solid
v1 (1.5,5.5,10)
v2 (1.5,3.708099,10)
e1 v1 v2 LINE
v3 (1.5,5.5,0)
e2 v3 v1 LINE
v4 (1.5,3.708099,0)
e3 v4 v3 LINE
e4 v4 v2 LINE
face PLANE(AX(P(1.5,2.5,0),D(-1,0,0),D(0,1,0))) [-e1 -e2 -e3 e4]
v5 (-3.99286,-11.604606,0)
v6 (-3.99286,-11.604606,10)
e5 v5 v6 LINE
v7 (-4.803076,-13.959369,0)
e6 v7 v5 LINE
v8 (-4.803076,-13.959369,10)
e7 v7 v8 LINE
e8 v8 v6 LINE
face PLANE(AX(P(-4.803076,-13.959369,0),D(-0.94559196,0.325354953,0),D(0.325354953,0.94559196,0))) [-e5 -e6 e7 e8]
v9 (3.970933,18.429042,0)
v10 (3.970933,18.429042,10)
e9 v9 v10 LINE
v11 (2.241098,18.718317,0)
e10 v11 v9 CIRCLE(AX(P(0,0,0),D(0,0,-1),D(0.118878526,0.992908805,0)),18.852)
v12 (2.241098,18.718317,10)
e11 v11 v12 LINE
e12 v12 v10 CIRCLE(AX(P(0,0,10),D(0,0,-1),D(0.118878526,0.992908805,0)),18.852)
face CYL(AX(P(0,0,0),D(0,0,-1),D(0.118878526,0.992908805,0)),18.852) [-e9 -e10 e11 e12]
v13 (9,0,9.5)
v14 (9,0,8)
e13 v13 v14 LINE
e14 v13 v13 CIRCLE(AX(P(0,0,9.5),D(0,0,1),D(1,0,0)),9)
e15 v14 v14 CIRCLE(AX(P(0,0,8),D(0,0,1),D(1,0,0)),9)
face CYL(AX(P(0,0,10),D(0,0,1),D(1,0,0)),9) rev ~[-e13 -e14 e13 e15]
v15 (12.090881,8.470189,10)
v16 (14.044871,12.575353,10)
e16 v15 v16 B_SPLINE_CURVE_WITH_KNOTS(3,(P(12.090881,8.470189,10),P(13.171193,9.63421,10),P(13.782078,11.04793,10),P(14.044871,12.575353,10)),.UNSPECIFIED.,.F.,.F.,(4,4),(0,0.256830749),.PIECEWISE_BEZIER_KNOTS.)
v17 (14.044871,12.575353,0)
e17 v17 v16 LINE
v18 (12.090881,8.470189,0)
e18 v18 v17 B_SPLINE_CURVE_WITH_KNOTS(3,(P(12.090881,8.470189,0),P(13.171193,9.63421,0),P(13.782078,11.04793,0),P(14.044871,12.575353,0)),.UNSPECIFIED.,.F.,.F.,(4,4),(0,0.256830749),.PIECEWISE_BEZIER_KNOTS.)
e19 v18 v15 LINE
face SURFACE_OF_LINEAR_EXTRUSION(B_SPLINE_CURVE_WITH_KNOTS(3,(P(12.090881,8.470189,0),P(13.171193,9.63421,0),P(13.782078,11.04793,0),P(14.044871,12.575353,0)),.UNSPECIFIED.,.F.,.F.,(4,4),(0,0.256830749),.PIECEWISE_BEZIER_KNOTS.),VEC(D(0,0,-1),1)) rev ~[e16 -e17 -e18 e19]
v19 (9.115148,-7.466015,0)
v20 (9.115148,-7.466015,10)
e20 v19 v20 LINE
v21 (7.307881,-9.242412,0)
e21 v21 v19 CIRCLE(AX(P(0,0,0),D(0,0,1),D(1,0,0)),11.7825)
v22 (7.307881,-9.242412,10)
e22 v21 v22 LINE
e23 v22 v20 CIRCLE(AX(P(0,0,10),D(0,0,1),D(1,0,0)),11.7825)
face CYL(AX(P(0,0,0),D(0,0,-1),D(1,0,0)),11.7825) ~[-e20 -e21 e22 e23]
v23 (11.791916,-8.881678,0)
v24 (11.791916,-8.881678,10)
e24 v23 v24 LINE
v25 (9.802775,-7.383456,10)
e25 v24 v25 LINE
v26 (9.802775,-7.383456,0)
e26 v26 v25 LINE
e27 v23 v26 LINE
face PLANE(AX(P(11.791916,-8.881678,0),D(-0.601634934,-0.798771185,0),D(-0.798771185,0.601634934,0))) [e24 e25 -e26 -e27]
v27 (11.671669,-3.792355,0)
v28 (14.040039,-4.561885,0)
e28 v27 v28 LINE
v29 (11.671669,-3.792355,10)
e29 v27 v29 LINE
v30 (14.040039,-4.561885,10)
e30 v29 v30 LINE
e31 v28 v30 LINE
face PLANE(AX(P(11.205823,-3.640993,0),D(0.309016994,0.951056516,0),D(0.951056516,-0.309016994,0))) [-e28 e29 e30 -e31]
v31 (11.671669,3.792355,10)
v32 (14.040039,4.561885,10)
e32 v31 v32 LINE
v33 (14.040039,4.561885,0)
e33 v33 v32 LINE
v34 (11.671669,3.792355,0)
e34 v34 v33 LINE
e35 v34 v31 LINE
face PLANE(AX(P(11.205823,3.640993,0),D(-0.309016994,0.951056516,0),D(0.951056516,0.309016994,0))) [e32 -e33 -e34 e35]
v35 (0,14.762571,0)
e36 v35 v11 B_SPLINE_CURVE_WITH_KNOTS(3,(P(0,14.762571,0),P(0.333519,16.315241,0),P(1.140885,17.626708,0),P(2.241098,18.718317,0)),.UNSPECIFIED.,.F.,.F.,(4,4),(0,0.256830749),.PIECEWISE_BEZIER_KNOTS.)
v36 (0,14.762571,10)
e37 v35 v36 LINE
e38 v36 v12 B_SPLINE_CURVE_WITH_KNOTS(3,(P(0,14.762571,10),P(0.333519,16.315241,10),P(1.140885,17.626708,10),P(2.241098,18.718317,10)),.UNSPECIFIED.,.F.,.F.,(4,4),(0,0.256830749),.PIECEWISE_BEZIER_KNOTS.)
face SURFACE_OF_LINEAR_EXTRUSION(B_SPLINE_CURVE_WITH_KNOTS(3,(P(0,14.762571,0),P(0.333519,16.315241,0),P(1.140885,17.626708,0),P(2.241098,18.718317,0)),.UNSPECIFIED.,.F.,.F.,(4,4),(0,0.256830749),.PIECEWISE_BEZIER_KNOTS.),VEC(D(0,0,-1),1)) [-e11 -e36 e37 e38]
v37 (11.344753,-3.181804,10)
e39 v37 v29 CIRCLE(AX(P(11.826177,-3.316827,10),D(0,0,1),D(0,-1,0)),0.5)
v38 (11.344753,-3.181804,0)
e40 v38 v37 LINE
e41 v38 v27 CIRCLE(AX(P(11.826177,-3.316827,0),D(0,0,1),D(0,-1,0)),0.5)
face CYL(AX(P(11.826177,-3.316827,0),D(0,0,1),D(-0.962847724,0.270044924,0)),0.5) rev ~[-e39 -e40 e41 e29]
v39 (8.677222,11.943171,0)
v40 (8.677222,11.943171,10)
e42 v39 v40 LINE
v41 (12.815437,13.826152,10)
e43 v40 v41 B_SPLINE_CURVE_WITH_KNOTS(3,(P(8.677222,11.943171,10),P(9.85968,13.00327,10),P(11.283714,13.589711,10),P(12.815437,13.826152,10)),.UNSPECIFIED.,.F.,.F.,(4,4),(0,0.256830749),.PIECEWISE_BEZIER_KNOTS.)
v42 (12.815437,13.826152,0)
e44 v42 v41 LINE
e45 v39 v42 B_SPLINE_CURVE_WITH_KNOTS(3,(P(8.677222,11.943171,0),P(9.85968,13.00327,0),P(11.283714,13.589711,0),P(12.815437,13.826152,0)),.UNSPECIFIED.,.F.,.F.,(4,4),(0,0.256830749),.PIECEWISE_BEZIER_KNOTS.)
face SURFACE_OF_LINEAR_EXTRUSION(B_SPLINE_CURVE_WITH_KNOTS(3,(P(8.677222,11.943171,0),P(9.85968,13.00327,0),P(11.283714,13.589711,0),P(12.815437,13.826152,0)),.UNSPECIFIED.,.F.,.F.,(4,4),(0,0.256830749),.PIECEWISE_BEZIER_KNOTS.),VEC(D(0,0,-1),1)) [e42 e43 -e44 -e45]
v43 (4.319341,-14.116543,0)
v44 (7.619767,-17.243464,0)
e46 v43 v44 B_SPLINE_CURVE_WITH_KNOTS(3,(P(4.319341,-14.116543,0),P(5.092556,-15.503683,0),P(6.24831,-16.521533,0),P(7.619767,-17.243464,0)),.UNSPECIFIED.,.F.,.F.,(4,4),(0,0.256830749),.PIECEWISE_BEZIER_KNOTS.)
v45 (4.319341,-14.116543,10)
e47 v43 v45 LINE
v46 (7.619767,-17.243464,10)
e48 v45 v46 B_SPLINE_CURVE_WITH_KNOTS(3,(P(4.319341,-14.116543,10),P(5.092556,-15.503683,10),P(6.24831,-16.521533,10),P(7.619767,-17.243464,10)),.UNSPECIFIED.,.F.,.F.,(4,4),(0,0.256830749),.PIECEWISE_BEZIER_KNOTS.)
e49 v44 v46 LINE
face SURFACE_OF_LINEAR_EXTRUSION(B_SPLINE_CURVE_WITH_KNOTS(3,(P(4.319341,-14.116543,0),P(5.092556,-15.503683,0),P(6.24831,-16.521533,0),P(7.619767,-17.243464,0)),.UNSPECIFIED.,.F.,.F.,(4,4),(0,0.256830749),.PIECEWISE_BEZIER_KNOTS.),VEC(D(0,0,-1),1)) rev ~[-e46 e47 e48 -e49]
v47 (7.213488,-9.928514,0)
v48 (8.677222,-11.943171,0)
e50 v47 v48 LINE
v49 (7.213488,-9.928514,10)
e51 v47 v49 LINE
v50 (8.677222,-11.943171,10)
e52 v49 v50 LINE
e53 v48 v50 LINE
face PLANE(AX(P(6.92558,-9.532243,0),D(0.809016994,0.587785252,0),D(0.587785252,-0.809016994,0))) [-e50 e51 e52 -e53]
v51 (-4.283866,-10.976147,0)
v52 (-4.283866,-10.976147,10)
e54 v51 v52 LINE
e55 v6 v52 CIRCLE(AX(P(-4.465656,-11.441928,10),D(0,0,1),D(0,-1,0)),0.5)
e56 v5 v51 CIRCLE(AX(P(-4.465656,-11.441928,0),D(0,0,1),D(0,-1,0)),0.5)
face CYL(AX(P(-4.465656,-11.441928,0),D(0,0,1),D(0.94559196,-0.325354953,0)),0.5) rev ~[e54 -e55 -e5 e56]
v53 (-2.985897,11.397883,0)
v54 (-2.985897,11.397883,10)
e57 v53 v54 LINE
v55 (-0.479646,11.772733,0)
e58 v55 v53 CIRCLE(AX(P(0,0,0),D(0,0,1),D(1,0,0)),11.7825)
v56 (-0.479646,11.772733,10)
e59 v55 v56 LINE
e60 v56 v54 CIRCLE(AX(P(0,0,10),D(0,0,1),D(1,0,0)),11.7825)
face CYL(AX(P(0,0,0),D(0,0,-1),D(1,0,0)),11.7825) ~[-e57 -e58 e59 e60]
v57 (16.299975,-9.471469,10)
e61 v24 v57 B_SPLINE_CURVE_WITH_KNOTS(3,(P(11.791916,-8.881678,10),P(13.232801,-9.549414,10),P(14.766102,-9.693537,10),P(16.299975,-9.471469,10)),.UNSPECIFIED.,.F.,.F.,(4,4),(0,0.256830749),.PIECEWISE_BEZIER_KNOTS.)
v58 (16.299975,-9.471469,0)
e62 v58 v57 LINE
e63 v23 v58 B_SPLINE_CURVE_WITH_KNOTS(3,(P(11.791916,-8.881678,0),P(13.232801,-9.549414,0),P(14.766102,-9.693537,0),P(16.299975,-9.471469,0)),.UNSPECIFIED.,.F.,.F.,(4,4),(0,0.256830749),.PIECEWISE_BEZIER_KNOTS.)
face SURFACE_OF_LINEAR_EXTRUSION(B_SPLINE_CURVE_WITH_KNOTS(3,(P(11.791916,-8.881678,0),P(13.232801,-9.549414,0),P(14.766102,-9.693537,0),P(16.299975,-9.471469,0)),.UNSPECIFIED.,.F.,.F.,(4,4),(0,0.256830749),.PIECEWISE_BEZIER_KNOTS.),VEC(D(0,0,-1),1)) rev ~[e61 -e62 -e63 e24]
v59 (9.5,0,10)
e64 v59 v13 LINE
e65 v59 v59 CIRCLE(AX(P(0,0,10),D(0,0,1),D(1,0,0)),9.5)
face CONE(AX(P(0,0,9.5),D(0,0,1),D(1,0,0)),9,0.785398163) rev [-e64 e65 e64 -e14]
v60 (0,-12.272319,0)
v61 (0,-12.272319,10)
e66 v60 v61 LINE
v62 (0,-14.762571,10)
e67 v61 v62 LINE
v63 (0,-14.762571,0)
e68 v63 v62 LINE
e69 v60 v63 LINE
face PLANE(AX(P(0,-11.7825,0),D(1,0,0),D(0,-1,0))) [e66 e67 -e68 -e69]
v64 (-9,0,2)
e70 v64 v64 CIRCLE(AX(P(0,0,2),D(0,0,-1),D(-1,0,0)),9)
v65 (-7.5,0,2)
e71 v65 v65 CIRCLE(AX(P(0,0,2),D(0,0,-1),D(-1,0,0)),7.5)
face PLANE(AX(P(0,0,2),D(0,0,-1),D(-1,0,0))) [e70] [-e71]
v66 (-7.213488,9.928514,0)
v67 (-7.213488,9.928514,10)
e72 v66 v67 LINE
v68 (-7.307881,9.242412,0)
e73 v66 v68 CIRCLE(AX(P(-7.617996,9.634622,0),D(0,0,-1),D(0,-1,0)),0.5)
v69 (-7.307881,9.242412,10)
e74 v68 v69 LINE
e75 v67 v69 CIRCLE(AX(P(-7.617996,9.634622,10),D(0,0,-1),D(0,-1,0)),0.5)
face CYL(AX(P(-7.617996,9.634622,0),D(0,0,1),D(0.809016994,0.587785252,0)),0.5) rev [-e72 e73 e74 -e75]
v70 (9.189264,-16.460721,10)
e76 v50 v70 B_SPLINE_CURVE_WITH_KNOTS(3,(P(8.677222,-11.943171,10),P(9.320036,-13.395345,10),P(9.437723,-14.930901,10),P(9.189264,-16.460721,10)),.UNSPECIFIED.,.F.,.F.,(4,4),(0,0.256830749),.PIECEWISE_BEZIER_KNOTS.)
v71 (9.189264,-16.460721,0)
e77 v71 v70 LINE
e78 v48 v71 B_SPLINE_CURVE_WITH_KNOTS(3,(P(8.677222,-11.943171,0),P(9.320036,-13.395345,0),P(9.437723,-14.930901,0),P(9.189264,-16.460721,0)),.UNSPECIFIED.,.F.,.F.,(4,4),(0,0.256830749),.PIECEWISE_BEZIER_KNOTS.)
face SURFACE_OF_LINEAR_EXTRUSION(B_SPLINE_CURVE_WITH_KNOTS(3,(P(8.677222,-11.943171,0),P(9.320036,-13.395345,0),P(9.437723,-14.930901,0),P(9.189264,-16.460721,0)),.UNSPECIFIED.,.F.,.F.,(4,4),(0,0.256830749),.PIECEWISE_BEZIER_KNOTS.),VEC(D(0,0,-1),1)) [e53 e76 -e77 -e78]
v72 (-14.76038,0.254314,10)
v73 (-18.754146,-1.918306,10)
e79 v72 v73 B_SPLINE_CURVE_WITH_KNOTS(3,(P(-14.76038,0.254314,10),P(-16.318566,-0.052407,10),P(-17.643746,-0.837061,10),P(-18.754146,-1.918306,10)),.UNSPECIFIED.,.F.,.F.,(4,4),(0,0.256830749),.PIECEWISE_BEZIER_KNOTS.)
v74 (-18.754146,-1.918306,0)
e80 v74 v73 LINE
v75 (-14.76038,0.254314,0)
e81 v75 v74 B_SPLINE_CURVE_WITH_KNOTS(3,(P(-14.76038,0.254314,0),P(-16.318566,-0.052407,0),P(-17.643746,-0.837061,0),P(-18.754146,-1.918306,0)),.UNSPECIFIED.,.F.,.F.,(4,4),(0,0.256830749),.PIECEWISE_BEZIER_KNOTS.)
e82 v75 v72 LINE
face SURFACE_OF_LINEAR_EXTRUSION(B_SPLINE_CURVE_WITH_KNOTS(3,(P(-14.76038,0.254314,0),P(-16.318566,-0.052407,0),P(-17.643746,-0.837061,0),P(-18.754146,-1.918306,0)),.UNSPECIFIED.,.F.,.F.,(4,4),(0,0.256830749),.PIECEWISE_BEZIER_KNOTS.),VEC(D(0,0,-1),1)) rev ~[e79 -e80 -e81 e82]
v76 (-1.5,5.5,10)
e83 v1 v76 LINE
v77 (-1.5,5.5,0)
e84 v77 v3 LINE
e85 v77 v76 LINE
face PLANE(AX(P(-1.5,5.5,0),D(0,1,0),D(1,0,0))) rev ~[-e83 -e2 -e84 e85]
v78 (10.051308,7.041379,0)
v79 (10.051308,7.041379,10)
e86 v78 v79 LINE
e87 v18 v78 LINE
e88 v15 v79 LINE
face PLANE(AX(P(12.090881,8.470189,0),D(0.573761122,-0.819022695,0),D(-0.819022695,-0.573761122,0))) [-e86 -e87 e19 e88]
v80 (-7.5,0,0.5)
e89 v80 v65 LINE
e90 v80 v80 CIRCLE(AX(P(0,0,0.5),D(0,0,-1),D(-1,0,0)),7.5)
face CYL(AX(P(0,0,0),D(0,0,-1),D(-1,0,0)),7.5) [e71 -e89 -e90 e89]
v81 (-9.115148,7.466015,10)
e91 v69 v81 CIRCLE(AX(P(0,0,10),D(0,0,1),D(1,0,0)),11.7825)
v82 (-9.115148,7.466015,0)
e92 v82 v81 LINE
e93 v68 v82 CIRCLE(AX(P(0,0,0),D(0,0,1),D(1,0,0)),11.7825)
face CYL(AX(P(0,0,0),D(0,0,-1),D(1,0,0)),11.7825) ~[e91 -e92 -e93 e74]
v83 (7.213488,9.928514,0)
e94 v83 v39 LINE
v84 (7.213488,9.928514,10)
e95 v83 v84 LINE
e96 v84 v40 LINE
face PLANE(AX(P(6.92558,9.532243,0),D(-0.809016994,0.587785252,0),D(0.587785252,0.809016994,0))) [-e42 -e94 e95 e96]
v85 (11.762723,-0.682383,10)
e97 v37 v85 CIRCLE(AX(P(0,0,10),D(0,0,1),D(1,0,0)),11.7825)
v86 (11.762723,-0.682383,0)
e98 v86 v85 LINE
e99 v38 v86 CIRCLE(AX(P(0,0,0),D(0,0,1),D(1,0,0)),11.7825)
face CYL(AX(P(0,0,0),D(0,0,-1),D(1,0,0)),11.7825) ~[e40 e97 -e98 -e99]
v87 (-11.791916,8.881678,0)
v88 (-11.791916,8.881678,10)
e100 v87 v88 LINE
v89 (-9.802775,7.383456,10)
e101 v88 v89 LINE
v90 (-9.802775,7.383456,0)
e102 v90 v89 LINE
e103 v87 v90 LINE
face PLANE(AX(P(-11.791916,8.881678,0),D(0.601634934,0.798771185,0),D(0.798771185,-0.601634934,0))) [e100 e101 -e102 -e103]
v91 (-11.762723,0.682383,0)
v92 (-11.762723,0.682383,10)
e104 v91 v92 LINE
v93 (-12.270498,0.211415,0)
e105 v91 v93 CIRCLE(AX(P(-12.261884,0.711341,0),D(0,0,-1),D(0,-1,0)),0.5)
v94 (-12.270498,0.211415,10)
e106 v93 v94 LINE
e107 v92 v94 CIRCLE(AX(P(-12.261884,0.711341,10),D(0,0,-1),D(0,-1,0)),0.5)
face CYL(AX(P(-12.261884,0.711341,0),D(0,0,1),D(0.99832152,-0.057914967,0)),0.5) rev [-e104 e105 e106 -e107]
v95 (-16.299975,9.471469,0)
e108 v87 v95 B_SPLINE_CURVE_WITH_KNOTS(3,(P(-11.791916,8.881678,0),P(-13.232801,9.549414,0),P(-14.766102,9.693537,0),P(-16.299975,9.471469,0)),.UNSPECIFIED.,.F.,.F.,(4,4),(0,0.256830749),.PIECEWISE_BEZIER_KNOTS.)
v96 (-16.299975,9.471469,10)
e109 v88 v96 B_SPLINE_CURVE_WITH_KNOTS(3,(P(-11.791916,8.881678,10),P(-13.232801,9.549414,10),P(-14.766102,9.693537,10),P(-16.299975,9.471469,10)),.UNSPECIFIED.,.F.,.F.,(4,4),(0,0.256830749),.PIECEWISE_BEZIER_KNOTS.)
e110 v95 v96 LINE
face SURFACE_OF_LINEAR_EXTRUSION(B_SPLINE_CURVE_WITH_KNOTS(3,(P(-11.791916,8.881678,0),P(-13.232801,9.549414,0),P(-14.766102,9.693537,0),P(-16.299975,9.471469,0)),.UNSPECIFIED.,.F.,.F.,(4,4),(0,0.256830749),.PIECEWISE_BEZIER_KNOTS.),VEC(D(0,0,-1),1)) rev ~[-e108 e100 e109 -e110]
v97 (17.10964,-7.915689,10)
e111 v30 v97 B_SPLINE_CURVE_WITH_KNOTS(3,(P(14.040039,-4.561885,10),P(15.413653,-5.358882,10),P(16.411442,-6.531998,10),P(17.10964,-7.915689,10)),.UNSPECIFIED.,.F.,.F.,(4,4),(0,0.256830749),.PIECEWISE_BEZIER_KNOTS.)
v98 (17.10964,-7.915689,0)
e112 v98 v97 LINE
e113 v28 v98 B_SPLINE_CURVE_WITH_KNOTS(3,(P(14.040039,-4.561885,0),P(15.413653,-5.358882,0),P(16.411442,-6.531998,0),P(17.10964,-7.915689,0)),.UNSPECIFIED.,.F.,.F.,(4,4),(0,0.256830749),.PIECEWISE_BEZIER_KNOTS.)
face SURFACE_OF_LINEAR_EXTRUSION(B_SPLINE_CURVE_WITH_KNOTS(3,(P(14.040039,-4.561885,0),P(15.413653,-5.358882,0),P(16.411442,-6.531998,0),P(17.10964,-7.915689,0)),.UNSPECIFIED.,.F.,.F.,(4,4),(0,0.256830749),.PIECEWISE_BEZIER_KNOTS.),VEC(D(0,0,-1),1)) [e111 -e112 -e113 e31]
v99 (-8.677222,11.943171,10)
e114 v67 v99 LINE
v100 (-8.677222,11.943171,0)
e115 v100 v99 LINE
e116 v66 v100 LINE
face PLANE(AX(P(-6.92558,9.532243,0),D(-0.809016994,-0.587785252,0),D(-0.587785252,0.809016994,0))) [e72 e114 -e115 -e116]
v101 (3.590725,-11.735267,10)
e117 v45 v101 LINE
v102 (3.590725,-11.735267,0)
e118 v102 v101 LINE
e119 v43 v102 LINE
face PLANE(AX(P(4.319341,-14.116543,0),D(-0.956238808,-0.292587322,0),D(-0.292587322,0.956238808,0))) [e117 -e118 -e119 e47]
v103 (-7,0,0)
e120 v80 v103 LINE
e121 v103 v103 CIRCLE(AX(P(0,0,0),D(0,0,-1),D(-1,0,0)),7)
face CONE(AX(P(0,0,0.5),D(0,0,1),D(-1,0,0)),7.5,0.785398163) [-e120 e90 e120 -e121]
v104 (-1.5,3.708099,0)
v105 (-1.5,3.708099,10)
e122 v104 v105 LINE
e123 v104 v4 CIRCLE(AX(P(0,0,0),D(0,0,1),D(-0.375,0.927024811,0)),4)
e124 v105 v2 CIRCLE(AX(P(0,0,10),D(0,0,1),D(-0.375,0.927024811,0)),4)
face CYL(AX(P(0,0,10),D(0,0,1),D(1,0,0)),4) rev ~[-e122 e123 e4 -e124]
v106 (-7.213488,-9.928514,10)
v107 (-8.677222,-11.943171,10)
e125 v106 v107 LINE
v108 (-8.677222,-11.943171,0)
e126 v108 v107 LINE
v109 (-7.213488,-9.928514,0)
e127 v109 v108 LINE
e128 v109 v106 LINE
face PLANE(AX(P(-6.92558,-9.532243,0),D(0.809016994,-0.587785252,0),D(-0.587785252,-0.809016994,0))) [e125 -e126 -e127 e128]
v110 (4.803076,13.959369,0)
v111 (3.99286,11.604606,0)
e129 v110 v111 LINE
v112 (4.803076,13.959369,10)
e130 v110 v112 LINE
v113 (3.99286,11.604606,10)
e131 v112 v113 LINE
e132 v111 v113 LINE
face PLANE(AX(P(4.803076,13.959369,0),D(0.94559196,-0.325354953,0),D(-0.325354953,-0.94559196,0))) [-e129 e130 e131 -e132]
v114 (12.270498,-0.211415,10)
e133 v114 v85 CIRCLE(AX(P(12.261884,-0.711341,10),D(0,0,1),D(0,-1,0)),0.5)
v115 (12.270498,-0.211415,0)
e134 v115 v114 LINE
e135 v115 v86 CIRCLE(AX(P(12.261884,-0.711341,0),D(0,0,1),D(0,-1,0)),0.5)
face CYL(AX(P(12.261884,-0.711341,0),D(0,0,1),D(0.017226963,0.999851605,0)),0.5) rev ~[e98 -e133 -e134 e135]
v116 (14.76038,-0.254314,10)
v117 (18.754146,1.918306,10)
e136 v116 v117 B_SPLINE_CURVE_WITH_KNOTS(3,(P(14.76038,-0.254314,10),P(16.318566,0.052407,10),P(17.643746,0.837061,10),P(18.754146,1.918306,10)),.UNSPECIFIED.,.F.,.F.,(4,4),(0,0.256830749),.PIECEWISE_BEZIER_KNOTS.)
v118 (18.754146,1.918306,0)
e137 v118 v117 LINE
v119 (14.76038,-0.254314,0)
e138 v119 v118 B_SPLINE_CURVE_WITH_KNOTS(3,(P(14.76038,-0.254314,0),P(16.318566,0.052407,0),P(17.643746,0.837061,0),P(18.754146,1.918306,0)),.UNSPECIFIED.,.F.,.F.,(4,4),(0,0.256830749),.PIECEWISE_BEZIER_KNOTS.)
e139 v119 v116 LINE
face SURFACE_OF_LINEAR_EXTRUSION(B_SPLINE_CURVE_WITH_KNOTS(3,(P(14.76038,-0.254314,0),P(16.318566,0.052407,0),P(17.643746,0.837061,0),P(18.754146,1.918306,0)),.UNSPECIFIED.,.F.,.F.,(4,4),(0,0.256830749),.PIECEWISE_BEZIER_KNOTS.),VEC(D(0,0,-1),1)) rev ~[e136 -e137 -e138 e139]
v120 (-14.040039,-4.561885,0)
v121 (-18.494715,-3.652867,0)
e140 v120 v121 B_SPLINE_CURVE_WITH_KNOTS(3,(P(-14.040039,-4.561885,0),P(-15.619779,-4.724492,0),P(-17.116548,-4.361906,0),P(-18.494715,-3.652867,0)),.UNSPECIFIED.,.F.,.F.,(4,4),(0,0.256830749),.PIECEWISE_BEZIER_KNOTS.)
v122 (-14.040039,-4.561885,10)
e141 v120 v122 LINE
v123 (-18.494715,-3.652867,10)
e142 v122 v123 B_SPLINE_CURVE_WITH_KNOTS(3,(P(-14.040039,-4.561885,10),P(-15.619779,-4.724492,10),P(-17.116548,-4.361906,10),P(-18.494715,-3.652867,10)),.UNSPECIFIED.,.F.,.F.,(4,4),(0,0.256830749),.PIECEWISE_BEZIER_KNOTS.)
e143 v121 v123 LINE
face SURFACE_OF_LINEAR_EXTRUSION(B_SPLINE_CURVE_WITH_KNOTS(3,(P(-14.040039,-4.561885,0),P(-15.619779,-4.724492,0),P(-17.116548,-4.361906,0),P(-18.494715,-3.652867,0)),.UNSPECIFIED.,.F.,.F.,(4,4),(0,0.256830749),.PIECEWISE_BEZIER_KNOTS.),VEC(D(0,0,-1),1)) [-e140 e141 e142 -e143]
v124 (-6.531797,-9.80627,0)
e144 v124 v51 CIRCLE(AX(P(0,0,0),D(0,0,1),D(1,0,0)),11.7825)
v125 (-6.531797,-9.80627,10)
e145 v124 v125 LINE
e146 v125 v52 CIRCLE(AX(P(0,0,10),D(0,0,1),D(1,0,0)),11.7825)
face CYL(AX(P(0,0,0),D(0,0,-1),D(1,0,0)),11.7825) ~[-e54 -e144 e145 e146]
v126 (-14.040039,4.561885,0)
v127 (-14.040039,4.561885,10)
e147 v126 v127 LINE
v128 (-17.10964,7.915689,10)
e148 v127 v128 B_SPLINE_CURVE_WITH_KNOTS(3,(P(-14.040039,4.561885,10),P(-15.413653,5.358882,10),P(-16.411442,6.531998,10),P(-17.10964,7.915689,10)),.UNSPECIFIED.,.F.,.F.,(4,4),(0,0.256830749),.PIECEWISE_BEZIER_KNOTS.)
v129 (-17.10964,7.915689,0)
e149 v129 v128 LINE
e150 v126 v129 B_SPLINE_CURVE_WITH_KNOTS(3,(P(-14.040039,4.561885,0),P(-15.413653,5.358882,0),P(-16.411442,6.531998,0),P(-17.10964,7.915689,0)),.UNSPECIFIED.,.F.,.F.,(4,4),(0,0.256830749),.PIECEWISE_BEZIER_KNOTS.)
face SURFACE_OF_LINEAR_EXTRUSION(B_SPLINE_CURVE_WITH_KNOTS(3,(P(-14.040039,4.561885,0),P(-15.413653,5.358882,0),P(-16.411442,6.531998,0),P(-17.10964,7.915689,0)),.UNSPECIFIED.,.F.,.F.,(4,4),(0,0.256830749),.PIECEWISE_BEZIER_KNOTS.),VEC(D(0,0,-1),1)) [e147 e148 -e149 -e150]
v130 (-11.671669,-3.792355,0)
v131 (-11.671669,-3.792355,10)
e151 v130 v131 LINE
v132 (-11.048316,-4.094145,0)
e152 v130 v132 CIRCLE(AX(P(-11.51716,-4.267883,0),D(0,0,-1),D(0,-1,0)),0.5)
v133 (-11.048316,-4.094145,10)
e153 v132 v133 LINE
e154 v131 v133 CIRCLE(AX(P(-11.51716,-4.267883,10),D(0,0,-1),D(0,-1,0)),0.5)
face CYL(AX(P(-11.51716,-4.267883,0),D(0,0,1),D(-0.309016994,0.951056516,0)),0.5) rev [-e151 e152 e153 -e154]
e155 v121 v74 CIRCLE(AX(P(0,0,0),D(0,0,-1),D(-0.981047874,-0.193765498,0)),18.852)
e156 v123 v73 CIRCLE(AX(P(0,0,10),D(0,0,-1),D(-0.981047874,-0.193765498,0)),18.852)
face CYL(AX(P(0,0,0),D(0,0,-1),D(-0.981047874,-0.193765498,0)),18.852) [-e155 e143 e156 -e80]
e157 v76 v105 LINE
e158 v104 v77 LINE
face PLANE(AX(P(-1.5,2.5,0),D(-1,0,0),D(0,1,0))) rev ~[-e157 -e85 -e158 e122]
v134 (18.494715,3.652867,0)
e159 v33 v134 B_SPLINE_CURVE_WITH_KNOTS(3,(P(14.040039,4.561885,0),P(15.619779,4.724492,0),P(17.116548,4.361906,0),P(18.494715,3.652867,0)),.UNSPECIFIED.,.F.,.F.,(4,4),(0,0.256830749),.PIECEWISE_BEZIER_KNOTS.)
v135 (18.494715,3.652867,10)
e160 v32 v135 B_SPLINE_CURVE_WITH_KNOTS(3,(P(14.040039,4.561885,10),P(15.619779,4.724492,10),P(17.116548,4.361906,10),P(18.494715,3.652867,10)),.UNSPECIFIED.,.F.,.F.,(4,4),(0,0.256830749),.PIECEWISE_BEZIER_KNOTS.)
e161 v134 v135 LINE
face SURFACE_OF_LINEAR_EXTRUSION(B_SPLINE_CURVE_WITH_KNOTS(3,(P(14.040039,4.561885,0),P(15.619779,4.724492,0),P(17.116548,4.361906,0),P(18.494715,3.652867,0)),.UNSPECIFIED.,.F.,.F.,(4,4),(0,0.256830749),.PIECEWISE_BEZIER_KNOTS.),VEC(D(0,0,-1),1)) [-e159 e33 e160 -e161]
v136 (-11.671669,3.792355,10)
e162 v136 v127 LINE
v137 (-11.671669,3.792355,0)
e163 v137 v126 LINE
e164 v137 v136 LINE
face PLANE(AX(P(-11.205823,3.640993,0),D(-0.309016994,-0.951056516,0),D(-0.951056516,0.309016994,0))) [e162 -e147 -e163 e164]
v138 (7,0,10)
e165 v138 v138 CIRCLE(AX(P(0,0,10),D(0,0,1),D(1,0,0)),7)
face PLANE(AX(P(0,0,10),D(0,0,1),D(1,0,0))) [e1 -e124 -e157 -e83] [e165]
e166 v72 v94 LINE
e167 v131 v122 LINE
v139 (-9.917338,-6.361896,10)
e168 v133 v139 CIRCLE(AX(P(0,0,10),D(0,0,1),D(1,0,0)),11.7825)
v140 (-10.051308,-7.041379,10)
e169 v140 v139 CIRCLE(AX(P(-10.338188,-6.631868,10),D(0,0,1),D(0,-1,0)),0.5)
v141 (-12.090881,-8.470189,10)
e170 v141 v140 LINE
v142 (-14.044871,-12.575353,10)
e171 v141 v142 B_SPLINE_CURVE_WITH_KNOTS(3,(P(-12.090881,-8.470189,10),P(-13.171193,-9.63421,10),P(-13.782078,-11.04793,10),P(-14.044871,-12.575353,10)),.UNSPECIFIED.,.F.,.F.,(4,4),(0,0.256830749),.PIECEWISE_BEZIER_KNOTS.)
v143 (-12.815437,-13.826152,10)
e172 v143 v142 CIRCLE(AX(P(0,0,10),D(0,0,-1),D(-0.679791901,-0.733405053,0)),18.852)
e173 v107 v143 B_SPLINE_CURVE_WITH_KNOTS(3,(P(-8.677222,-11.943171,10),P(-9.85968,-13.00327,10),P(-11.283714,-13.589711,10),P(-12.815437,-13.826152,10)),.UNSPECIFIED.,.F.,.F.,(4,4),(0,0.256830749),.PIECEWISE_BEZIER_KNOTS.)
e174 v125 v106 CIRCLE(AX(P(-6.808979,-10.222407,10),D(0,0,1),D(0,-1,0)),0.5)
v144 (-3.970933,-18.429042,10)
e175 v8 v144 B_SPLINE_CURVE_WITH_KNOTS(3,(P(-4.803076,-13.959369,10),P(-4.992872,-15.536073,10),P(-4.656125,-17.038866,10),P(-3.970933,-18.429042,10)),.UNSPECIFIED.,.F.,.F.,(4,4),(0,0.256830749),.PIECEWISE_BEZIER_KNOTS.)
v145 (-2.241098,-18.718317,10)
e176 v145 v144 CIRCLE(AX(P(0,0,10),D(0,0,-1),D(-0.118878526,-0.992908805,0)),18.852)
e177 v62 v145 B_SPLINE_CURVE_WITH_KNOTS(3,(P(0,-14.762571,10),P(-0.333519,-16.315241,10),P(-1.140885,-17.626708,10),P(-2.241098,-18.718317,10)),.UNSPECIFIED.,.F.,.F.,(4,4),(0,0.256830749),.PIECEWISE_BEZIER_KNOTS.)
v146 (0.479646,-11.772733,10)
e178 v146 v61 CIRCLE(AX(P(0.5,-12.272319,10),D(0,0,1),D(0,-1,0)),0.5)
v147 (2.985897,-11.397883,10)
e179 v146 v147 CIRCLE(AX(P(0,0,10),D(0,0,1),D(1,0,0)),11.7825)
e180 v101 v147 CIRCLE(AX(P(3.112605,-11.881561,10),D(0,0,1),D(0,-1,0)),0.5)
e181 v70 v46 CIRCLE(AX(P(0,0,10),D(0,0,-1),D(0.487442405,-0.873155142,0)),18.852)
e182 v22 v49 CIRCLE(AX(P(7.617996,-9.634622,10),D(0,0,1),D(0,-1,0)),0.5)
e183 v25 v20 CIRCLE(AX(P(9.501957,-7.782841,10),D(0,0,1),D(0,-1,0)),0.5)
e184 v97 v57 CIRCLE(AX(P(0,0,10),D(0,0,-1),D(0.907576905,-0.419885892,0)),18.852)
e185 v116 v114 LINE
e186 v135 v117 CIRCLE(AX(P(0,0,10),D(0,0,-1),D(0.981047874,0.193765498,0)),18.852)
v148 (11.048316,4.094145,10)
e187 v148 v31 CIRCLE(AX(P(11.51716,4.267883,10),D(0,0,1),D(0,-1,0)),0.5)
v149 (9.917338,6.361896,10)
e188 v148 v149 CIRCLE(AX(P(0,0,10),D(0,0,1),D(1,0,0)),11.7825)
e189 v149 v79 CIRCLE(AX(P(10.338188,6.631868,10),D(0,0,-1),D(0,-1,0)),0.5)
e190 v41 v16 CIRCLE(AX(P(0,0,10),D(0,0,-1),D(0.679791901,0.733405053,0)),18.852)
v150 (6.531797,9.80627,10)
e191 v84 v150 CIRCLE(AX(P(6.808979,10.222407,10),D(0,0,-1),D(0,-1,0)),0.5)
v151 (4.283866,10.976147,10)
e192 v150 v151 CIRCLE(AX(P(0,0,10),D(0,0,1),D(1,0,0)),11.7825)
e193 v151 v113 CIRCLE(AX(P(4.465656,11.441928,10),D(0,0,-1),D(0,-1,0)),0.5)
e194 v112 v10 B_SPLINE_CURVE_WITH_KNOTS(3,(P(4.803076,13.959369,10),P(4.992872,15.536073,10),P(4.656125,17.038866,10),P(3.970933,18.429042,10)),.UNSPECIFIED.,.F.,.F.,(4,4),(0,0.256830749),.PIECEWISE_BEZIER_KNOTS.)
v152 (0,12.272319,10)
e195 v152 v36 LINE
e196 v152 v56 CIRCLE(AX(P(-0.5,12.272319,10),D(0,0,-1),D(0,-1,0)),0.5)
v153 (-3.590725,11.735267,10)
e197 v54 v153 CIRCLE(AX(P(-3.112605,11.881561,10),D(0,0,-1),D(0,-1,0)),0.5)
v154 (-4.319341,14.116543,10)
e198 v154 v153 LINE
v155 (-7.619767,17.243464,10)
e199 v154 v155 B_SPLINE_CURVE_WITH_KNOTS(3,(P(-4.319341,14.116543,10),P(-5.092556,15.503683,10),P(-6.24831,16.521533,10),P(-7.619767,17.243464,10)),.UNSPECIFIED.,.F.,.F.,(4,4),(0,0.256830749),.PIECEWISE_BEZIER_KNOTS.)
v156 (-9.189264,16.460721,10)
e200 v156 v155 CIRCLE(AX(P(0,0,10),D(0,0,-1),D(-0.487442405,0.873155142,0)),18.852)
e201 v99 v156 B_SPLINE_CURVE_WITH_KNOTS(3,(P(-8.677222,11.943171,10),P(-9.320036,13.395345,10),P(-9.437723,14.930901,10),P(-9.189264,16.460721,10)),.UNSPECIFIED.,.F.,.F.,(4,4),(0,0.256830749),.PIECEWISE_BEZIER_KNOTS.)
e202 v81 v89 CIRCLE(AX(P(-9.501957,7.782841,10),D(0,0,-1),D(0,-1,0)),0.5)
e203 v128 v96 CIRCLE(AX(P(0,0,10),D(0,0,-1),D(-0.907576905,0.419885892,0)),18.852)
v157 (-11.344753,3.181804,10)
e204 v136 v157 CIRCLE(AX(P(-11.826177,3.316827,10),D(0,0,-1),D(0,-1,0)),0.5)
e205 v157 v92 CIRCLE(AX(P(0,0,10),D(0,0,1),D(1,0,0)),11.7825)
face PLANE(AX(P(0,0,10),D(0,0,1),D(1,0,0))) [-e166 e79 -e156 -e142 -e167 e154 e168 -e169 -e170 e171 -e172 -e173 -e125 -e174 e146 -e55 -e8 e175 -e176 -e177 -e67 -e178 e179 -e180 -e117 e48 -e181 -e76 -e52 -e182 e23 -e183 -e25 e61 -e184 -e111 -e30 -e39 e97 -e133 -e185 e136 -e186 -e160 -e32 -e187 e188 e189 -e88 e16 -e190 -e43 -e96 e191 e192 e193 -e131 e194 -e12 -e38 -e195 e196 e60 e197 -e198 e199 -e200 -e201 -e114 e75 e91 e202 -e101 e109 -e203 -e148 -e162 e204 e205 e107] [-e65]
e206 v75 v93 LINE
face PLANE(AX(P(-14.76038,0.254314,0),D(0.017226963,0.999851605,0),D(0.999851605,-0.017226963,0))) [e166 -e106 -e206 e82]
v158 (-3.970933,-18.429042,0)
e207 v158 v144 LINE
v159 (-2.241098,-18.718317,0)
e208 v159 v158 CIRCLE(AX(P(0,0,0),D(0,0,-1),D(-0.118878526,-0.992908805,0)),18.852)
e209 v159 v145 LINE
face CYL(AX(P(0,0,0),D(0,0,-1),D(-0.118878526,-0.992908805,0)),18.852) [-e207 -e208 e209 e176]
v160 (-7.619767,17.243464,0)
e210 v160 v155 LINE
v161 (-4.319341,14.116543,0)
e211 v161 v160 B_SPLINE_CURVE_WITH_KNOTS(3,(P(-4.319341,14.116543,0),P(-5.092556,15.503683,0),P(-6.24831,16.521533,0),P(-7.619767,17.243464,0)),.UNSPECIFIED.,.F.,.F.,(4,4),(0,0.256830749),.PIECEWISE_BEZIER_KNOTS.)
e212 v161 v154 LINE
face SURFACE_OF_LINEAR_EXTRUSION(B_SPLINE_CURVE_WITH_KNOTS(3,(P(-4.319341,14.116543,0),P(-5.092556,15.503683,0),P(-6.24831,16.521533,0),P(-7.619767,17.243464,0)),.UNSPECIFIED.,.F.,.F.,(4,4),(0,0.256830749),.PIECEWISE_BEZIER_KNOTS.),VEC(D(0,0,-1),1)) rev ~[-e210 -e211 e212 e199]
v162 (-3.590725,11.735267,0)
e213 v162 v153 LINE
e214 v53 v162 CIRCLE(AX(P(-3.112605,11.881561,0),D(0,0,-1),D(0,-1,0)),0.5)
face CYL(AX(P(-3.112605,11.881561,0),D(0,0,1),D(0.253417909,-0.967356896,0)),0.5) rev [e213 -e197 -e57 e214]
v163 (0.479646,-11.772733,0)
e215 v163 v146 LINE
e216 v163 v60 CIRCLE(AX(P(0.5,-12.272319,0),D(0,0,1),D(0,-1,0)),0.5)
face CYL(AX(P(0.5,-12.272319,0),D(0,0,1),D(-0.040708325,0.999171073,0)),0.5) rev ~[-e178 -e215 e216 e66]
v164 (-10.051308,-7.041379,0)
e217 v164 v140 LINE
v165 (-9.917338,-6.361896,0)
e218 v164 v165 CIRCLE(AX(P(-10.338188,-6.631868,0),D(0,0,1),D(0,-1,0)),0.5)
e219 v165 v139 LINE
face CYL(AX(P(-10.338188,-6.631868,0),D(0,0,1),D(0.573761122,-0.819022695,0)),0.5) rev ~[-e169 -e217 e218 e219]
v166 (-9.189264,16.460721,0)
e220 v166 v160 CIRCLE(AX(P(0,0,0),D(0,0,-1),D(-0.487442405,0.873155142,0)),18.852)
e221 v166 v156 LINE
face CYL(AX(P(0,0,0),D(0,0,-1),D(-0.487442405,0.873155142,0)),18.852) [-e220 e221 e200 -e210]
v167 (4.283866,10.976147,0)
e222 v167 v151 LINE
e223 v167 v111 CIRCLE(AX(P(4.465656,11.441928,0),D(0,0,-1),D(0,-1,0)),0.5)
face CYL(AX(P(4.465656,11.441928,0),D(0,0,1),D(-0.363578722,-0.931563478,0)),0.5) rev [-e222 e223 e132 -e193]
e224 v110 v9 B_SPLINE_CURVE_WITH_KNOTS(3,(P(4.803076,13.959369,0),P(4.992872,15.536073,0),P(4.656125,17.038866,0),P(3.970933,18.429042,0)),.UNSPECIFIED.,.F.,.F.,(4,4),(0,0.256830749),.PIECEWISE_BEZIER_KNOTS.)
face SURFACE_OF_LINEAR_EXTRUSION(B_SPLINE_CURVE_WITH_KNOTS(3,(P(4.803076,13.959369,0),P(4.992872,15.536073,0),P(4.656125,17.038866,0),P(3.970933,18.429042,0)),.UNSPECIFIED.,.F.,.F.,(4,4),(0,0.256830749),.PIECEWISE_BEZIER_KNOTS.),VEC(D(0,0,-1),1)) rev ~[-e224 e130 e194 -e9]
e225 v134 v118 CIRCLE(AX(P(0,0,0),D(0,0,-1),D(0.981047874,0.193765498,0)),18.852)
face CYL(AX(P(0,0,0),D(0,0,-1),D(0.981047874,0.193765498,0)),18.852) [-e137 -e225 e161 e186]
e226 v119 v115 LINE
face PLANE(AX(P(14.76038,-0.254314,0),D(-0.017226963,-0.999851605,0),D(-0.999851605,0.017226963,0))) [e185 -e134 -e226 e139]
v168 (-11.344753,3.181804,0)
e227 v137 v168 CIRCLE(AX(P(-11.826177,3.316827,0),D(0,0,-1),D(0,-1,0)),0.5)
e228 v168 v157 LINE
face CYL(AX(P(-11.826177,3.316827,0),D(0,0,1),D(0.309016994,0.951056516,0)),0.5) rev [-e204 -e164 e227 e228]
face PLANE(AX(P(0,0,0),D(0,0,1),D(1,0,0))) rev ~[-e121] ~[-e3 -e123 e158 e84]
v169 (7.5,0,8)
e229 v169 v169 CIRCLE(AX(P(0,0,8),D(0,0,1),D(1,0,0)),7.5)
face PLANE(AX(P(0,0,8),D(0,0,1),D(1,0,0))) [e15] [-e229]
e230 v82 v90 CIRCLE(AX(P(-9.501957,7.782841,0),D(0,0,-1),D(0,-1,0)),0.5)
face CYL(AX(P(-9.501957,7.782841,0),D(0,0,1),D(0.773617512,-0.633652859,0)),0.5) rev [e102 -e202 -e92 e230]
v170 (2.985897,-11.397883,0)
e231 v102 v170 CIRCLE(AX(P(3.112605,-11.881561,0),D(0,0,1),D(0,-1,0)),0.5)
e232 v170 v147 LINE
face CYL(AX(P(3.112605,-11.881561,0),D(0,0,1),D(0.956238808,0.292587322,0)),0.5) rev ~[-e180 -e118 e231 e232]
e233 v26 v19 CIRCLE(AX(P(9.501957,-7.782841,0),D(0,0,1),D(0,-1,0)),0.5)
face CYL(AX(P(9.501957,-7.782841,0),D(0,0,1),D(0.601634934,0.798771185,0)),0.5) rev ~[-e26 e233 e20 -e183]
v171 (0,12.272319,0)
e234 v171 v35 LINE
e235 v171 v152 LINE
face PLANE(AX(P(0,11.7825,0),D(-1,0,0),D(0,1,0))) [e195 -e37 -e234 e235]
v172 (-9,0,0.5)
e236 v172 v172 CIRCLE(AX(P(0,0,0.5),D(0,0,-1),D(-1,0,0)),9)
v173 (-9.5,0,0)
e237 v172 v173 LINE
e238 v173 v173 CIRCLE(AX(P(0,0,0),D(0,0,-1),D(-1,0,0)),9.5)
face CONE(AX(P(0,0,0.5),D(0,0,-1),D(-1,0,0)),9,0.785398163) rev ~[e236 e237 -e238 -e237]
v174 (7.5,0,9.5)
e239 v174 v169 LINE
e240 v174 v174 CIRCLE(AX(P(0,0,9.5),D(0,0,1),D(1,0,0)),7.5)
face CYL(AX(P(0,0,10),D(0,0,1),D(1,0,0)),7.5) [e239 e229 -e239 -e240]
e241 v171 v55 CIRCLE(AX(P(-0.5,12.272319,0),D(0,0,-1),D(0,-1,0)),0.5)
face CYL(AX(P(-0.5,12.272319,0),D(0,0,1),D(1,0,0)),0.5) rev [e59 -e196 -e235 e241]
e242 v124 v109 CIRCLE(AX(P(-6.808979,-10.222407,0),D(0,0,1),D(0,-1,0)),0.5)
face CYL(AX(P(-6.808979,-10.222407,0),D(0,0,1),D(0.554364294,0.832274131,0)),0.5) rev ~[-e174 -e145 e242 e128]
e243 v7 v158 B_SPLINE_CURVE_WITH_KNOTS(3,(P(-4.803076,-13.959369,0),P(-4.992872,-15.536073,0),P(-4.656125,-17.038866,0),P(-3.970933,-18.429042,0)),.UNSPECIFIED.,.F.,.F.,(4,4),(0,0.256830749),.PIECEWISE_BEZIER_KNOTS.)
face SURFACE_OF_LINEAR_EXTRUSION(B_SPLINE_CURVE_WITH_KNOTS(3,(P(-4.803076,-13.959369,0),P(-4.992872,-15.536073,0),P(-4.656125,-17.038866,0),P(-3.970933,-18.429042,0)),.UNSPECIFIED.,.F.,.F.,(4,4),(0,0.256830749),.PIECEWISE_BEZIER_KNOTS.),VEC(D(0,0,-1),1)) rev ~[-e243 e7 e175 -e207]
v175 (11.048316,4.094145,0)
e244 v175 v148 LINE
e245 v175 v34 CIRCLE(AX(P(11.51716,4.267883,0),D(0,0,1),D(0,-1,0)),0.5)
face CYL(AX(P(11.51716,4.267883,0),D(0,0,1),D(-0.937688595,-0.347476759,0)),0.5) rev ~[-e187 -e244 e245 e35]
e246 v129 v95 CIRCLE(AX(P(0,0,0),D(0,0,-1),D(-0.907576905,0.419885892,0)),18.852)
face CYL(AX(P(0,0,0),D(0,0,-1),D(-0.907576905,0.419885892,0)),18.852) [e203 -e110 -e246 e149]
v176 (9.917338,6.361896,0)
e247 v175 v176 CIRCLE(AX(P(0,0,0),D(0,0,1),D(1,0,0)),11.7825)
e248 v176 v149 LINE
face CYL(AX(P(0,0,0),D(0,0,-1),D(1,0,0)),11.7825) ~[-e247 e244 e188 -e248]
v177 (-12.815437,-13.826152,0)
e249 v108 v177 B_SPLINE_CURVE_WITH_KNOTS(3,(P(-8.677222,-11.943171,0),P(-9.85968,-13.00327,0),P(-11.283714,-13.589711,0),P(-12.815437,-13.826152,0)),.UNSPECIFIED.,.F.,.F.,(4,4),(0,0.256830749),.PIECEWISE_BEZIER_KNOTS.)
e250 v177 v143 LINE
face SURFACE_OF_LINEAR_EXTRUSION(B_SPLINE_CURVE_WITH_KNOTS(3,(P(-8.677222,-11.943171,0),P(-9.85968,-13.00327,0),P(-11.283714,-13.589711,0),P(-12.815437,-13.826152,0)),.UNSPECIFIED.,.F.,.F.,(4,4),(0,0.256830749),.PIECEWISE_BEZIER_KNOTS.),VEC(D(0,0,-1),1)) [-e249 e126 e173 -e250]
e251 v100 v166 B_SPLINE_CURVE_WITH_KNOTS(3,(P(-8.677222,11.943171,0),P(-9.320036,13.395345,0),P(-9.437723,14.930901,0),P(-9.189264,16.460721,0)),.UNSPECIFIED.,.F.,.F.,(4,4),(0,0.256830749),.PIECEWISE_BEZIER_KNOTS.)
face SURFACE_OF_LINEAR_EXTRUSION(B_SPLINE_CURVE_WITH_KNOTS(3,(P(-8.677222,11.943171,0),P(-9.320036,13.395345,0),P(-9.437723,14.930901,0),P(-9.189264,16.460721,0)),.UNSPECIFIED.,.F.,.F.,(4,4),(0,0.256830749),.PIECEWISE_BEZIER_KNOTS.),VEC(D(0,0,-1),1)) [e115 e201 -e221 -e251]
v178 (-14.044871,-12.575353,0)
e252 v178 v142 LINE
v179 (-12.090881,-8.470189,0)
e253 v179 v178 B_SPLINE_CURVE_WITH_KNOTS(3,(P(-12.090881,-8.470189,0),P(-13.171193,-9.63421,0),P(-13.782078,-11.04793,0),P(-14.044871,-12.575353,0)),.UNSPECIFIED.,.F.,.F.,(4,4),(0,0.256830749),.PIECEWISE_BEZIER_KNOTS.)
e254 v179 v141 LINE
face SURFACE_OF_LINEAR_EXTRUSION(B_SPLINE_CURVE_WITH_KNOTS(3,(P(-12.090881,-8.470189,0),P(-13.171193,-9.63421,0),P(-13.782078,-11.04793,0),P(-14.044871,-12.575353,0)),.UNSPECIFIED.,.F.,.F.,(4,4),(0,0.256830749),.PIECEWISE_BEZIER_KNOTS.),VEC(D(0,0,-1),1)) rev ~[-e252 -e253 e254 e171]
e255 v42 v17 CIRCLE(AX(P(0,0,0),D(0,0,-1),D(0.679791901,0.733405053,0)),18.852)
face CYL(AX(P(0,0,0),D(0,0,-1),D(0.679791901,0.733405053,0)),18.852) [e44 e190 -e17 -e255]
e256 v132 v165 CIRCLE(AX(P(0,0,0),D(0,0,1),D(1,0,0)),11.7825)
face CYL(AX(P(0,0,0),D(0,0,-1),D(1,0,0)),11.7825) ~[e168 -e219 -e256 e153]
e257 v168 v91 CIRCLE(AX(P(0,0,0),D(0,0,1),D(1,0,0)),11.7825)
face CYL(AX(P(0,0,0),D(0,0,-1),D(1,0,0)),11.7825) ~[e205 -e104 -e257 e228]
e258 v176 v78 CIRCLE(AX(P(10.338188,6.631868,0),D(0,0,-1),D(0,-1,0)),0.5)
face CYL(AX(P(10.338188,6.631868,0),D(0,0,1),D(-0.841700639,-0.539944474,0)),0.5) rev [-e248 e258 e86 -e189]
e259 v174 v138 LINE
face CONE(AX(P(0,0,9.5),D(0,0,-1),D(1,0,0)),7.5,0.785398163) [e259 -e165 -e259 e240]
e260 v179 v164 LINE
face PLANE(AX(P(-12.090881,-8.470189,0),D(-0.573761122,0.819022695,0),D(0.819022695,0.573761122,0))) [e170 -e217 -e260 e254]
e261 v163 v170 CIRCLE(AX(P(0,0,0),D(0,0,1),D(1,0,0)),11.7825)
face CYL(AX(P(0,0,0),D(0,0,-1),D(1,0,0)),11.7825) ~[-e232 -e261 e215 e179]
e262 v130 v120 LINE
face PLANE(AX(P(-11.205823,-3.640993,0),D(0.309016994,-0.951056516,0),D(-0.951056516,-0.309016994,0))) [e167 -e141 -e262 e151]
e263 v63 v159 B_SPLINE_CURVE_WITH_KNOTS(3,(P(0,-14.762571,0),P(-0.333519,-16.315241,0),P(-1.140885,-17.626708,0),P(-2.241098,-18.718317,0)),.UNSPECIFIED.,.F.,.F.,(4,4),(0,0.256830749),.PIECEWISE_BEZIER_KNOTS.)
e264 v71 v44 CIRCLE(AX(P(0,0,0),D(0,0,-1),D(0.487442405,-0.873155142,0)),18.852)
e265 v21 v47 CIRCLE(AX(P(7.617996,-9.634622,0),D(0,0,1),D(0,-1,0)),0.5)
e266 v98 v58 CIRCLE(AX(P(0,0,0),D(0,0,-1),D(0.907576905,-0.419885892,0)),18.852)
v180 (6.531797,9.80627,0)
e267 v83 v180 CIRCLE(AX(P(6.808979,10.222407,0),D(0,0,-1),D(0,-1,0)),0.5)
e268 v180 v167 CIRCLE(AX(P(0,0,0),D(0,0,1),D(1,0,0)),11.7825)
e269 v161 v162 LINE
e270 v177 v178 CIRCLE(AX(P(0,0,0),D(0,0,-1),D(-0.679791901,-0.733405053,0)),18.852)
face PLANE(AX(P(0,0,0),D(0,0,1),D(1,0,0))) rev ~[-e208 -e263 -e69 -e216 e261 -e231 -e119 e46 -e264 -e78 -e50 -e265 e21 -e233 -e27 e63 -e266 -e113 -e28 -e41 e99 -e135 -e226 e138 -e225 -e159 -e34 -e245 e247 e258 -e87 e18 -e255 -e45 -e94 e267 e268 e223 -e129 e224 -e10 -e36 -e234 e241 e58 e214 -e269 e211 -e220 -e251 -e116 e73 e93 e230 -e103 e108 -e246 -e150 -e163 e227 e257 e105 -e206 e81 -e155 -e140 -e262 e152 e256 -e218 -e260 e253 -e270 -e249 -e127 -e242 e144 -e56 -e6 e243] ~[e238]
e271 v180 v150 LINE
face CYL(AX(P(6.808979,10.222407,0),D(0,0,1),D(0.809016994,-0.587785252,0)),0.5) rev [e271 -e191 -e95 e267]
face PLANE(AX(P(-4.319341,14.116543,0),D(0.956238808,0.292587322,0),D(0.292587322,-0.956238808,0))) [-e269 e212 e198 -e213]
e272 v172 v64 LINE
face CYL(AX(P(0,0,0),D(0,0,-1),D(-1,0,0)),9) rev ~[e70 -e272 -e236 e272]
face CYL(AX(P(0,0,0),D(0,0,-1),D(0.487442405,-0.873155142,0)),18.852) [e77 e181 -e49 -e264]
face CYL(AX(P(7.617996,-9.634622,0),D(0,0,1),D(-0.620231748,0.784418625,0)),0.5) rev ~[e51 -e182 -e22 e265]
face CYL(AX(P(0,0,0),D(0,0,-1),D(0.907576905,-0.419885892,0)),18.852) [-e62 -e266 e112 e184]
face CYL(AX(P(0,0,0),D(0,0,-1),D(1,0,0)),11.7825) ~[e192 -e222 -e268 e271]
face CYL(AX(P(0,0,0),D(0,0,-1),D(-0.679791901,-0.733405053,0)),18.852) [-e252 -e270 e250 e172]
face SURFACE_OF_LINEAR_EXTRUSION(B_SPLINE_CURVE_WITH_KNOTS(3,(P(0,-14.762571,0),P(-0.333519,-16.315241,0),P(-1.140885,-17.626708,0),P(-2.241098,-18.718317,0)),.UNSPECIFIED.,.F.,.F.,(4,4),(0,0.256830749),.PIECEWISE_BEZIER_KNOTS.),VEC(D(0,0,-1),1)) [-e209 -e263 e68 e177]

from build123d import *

# Parameters (mm, degrees)
BOSS_EXTRUDE1_DEPTH     = 10
CIRPATTERN1_COUNT       = 10
SKETCH1_R               = 11.7825
BOSS_EXTRUDE2_DEPTH     = 10
SKETCH4_R               = 9
SKETCH4_R_2             = 7.5
CUT_EXTRUDE1_DEPTH      = 2
SKETCH4_3_R             = 4
CUT_EXTRUDE2_DEPTH      = 29.32125352
CUT_EXTRUDE3_START      = -2
SKETCH5_R               = 9
SKETCH5_R_2             = 7.5
CUT_EXTRUDE3_DEPTH      = 2
FILLET1_R               = 0.5
CHAMFER1_SIZE           = 0.5
CHAMFER2_SIZE           = 0.5
CUT_EXTRUDE4_DEPTH      = 29.32125352
CUT_EXTRUDE4_DEPTH_BACK = 29.32125352
SKETCH6_W               = 3
SKETCH6_H               = 3


with BuildPart() as part:
    # Sketch3 → Boss-Extrude1 (new body)
    with BuildSketch(Plane.XY):
        with BuildLine():
            Line((4.803075617, 13.959368513), (3.833494733, 11.141437267))
            ThreePointArc((3.833494733, 11.141437267), (1.943363276, 11.621129266), (0, 11.7825))
            Line((0, 11.7825), (0, 14.762571073))
            add(Edge.make_bspline(
                [(0, 14.762571073), (0.333518774, 16.315241106), (1.140884964, 17.626707575), (2.241097954, 18.718316804)],
                knots=[0, 0, 0, 0, 0.256830749, 0.256830749, 0.256830749, 0.256830749], degree=3))
            ThreePointArc((2.241097954, 18.718316804), (3.109381242, 18.593806826), (3.970932877, 18.429042191))
            add(Edge.make_bspline(
                [(4.803075617, 13.959368513), (4.992871831, 15.536072798), (4.656124965, 17.038865536), (3.970932877, 18.429042191)],
                knots=[0, 0, 0, 0, 0.256830749, 0.256830749, 0.256830749, 0.256830749], degree=3))
        make_face()
    extrude(amount=BOSS_EXTRUDE1_DEPTH)


with BuildPart() as cirpattern1_1:
    # CirPattern1: pattern copy
    add(part.part.rotate(Axis((0, 0, 0), (0, 0, 1)), 1 * 360 / CIRPATTERN1_COUNT))


with BuildPart() as cirpattern1_2:
    # CirPattern1: pattern copy
    add(part.part.rotate(Axis((0, 0, 0), (0, 0, 1)), 2 * 360 / CIRPATTERN1_COUNT))


with BuildPart() as cirpattern1_3:
    # CirPattern1: pattern copy
    add(part.part.rotate(Axis((0, 0, 0), (0, 0, 1)), 3 * 360 / CIRPATTERN1_COUNT))


with BuildPart() as cirpattern1_4:
    # CirPattern1: pattern copy
    add(part.part.rotate(Axis((0, 0, 0), (0, 0, 1)), 4 * 360 / CIRPATTERN1_COUNT))


with BuildPart() as cirpattern1_5:
    # CirPattern1: pattern copy
    add(part.part.rotate(Axis((0, 0, 0), (0, 0, 1)), 5 * 360 / CIRPATTERN1_COUNT))


with BuildPart() as cirpattern1_6:
    # CirPattern1: pattern copy
    add(part.part.rotate(Axis((0, 0, 0), (0, 0, 1)), 6 * 360 / CIRPATTERN1_COUNT))


with BuildPart() as cirpattern1_7:
    # CirPattern1: pattern copy
    add(part.part.rotate(Axis((0, 0, 0), (0, 0, 1)), 7 * 360 / CIRPATTERN1_COUNT))


with BuildPart() as cirpattern1_8:
    # CirPattern1: pattern copy
    add(part.part.rotate(Axis((0, 0, 0), (0, 0, 1)), 8 * 360 / CIRPATTERN1_COUNT))


with BuildPart() as cirpattern1_9:
    # CirPattern1: pattern copy
    add(part.part.rotate(Axis((0, 0, 0), (0, 0, 1)), 9 * 360 / CIRPATTERN1_COUNT))


with BuildPart() as part_1:
    add(part.part)

    add(cirpattern1_1.part)  # Boss-Extrude2 merges CirPattern1_1

    add(cirpattern1_2.part)  # Boss-Extrude2 merges CirPattern1_2

    add(cirpattern1_3.part)  # Boss-Extrude2 merges CirPattern1_3

    add(cirpattern1_4.part)  # Boss-Extrude2 merges CirPattern1_4

    add(cirpattern1_5.part)  # Boss-Extrude2 merges CirPattern1_5

    add(cirpattern1_6.part)  # Boss-Extrude2 merges CirPattern1_6

    add(cirpattern1_7.part)  # Boss-Extrude2 merges CirPattern1_7

    add(cirpattern1_8.part)  # Boss-Extrude2 merges CirPattern1_8

    add(cirpattern1_9.part)  # Boss-Extrude2 merges CirPattern1_9
    # Sketch1 → Boss-Extrude2 (add)
    with BuildSketch(Plane.XY):
        Circle(SKETCH1_R)
    extrude(amount=BOSS_EXTRUDE2_DEPTH)

    # Sketch4 → Cut-Extrude1 (cut)
    with BuildSketch(Plane.XY.offset(10)):
        Circle(SKETCH4_R)
        Circle(SKETCH4_R_2, mode=Mode.SUBTRACT)
    extrude(amount=-CUT_EXTRUDE1_DEPTH, mode=Mode.SUBTRACT)

    # Sketch4<3> → Cut-Extrude2 (cut, through all)
    with BuildSketch(Plane.XY.offset(10)):
        Circle(SKETCH4_3_R)
    extrude(amount=-CUT_EXTRUDE2_DEPTH, mode=Mode.SUBTRACT)

    # Sketch5 → Cut-Extrude3 (cut)
    with BuildSketch(Plane(origin=(0, 0, 0), x_dir=(-1, 0, 0), z_dir=(0, 0, -1)).offset(CUT_EXTRUDE3_START)):
        Circle(SKETCH5_R)
        Circle(SKETCH5_R_2, mode=Mode.SUBTRACT)
    extrude(amount=CUT_EXTRUDE3_DEPTH, mode=Mode.SUBTRACT)

    # Fillet1
    fillet1_edges = [part_1.edges().sort_by_distance(p)[0] for p in [
        (-3.447410128, 11.26688376, 5),
        (-11.205823403, 3.640992736, 5),
        (-6.925579735, 9.532242736, 5),
        (-9.650134902, -6.760340422, 5),
        (-11.780751534, 0.202976689, 5),
        (-9.411521493, 7.088763604, 5),
        (0, 11.7825, 5),
        (6.925579735, 9.532242736, 5),
        (-3.833494733, -11.141437267, 5),
        (-11.205823403, -3.640992736, 5),
        (-6.925579735, -9.532242736, 5),
        (0, -11.7825, 5),
        (3.447410128, -11.26688376, 5),
        (9.411521493, -7.088763604, 5),
        (3.833494733, 11.141437267, 5),
        (6.925579735, -9.532242736, 5),
        (11.205823403, -3.640992736, 5),
        (11.780751534, -0.202976689, 5),
        (11.205823403, 3.640992736, 5),
        (9.650134902, 6.760340422, 5),
    ]]
    fillet(fillet1_edges, radius=FILLET1_R)

    # Chamfer1
    chamfer1_edges = [part_1.edges().sort_by_distance(p)[0] for p in [
        (7.5, 0, 0),
        (-7.5, 0, 10),
    ]]
    chamfer(chamfer1_edges, length=CHAMFER1_SIZE)

    # Chamfer2
    chamfer2_edges = [part_1.edges().sort_by_distance(p)[0] for p in [
        (-9, 0, 10),
        (9, 0, 0),
    ]]
    chamfer(chamfer2_edges, length=CHAMFER2_SIZE)

    # Sketch6 → Cut-Extrude4 (cut, two sides: drawn at the far end of the back side and taken through both)
    with BuildSketch(Plane.XY.offset(-CUT_EXTRUDE4_DEPTH_BACK)):
        with Locations((0, 4)):
            Rectangle(SKETCH6_W, SKETCH6_H)
    extrude(amount=CUT_EXTRUDE4_DEPTH + CUT_EXTRUDE4_DEPTH_BACK, mode=Mode.SUBTRACT)


solid = part_1.part
